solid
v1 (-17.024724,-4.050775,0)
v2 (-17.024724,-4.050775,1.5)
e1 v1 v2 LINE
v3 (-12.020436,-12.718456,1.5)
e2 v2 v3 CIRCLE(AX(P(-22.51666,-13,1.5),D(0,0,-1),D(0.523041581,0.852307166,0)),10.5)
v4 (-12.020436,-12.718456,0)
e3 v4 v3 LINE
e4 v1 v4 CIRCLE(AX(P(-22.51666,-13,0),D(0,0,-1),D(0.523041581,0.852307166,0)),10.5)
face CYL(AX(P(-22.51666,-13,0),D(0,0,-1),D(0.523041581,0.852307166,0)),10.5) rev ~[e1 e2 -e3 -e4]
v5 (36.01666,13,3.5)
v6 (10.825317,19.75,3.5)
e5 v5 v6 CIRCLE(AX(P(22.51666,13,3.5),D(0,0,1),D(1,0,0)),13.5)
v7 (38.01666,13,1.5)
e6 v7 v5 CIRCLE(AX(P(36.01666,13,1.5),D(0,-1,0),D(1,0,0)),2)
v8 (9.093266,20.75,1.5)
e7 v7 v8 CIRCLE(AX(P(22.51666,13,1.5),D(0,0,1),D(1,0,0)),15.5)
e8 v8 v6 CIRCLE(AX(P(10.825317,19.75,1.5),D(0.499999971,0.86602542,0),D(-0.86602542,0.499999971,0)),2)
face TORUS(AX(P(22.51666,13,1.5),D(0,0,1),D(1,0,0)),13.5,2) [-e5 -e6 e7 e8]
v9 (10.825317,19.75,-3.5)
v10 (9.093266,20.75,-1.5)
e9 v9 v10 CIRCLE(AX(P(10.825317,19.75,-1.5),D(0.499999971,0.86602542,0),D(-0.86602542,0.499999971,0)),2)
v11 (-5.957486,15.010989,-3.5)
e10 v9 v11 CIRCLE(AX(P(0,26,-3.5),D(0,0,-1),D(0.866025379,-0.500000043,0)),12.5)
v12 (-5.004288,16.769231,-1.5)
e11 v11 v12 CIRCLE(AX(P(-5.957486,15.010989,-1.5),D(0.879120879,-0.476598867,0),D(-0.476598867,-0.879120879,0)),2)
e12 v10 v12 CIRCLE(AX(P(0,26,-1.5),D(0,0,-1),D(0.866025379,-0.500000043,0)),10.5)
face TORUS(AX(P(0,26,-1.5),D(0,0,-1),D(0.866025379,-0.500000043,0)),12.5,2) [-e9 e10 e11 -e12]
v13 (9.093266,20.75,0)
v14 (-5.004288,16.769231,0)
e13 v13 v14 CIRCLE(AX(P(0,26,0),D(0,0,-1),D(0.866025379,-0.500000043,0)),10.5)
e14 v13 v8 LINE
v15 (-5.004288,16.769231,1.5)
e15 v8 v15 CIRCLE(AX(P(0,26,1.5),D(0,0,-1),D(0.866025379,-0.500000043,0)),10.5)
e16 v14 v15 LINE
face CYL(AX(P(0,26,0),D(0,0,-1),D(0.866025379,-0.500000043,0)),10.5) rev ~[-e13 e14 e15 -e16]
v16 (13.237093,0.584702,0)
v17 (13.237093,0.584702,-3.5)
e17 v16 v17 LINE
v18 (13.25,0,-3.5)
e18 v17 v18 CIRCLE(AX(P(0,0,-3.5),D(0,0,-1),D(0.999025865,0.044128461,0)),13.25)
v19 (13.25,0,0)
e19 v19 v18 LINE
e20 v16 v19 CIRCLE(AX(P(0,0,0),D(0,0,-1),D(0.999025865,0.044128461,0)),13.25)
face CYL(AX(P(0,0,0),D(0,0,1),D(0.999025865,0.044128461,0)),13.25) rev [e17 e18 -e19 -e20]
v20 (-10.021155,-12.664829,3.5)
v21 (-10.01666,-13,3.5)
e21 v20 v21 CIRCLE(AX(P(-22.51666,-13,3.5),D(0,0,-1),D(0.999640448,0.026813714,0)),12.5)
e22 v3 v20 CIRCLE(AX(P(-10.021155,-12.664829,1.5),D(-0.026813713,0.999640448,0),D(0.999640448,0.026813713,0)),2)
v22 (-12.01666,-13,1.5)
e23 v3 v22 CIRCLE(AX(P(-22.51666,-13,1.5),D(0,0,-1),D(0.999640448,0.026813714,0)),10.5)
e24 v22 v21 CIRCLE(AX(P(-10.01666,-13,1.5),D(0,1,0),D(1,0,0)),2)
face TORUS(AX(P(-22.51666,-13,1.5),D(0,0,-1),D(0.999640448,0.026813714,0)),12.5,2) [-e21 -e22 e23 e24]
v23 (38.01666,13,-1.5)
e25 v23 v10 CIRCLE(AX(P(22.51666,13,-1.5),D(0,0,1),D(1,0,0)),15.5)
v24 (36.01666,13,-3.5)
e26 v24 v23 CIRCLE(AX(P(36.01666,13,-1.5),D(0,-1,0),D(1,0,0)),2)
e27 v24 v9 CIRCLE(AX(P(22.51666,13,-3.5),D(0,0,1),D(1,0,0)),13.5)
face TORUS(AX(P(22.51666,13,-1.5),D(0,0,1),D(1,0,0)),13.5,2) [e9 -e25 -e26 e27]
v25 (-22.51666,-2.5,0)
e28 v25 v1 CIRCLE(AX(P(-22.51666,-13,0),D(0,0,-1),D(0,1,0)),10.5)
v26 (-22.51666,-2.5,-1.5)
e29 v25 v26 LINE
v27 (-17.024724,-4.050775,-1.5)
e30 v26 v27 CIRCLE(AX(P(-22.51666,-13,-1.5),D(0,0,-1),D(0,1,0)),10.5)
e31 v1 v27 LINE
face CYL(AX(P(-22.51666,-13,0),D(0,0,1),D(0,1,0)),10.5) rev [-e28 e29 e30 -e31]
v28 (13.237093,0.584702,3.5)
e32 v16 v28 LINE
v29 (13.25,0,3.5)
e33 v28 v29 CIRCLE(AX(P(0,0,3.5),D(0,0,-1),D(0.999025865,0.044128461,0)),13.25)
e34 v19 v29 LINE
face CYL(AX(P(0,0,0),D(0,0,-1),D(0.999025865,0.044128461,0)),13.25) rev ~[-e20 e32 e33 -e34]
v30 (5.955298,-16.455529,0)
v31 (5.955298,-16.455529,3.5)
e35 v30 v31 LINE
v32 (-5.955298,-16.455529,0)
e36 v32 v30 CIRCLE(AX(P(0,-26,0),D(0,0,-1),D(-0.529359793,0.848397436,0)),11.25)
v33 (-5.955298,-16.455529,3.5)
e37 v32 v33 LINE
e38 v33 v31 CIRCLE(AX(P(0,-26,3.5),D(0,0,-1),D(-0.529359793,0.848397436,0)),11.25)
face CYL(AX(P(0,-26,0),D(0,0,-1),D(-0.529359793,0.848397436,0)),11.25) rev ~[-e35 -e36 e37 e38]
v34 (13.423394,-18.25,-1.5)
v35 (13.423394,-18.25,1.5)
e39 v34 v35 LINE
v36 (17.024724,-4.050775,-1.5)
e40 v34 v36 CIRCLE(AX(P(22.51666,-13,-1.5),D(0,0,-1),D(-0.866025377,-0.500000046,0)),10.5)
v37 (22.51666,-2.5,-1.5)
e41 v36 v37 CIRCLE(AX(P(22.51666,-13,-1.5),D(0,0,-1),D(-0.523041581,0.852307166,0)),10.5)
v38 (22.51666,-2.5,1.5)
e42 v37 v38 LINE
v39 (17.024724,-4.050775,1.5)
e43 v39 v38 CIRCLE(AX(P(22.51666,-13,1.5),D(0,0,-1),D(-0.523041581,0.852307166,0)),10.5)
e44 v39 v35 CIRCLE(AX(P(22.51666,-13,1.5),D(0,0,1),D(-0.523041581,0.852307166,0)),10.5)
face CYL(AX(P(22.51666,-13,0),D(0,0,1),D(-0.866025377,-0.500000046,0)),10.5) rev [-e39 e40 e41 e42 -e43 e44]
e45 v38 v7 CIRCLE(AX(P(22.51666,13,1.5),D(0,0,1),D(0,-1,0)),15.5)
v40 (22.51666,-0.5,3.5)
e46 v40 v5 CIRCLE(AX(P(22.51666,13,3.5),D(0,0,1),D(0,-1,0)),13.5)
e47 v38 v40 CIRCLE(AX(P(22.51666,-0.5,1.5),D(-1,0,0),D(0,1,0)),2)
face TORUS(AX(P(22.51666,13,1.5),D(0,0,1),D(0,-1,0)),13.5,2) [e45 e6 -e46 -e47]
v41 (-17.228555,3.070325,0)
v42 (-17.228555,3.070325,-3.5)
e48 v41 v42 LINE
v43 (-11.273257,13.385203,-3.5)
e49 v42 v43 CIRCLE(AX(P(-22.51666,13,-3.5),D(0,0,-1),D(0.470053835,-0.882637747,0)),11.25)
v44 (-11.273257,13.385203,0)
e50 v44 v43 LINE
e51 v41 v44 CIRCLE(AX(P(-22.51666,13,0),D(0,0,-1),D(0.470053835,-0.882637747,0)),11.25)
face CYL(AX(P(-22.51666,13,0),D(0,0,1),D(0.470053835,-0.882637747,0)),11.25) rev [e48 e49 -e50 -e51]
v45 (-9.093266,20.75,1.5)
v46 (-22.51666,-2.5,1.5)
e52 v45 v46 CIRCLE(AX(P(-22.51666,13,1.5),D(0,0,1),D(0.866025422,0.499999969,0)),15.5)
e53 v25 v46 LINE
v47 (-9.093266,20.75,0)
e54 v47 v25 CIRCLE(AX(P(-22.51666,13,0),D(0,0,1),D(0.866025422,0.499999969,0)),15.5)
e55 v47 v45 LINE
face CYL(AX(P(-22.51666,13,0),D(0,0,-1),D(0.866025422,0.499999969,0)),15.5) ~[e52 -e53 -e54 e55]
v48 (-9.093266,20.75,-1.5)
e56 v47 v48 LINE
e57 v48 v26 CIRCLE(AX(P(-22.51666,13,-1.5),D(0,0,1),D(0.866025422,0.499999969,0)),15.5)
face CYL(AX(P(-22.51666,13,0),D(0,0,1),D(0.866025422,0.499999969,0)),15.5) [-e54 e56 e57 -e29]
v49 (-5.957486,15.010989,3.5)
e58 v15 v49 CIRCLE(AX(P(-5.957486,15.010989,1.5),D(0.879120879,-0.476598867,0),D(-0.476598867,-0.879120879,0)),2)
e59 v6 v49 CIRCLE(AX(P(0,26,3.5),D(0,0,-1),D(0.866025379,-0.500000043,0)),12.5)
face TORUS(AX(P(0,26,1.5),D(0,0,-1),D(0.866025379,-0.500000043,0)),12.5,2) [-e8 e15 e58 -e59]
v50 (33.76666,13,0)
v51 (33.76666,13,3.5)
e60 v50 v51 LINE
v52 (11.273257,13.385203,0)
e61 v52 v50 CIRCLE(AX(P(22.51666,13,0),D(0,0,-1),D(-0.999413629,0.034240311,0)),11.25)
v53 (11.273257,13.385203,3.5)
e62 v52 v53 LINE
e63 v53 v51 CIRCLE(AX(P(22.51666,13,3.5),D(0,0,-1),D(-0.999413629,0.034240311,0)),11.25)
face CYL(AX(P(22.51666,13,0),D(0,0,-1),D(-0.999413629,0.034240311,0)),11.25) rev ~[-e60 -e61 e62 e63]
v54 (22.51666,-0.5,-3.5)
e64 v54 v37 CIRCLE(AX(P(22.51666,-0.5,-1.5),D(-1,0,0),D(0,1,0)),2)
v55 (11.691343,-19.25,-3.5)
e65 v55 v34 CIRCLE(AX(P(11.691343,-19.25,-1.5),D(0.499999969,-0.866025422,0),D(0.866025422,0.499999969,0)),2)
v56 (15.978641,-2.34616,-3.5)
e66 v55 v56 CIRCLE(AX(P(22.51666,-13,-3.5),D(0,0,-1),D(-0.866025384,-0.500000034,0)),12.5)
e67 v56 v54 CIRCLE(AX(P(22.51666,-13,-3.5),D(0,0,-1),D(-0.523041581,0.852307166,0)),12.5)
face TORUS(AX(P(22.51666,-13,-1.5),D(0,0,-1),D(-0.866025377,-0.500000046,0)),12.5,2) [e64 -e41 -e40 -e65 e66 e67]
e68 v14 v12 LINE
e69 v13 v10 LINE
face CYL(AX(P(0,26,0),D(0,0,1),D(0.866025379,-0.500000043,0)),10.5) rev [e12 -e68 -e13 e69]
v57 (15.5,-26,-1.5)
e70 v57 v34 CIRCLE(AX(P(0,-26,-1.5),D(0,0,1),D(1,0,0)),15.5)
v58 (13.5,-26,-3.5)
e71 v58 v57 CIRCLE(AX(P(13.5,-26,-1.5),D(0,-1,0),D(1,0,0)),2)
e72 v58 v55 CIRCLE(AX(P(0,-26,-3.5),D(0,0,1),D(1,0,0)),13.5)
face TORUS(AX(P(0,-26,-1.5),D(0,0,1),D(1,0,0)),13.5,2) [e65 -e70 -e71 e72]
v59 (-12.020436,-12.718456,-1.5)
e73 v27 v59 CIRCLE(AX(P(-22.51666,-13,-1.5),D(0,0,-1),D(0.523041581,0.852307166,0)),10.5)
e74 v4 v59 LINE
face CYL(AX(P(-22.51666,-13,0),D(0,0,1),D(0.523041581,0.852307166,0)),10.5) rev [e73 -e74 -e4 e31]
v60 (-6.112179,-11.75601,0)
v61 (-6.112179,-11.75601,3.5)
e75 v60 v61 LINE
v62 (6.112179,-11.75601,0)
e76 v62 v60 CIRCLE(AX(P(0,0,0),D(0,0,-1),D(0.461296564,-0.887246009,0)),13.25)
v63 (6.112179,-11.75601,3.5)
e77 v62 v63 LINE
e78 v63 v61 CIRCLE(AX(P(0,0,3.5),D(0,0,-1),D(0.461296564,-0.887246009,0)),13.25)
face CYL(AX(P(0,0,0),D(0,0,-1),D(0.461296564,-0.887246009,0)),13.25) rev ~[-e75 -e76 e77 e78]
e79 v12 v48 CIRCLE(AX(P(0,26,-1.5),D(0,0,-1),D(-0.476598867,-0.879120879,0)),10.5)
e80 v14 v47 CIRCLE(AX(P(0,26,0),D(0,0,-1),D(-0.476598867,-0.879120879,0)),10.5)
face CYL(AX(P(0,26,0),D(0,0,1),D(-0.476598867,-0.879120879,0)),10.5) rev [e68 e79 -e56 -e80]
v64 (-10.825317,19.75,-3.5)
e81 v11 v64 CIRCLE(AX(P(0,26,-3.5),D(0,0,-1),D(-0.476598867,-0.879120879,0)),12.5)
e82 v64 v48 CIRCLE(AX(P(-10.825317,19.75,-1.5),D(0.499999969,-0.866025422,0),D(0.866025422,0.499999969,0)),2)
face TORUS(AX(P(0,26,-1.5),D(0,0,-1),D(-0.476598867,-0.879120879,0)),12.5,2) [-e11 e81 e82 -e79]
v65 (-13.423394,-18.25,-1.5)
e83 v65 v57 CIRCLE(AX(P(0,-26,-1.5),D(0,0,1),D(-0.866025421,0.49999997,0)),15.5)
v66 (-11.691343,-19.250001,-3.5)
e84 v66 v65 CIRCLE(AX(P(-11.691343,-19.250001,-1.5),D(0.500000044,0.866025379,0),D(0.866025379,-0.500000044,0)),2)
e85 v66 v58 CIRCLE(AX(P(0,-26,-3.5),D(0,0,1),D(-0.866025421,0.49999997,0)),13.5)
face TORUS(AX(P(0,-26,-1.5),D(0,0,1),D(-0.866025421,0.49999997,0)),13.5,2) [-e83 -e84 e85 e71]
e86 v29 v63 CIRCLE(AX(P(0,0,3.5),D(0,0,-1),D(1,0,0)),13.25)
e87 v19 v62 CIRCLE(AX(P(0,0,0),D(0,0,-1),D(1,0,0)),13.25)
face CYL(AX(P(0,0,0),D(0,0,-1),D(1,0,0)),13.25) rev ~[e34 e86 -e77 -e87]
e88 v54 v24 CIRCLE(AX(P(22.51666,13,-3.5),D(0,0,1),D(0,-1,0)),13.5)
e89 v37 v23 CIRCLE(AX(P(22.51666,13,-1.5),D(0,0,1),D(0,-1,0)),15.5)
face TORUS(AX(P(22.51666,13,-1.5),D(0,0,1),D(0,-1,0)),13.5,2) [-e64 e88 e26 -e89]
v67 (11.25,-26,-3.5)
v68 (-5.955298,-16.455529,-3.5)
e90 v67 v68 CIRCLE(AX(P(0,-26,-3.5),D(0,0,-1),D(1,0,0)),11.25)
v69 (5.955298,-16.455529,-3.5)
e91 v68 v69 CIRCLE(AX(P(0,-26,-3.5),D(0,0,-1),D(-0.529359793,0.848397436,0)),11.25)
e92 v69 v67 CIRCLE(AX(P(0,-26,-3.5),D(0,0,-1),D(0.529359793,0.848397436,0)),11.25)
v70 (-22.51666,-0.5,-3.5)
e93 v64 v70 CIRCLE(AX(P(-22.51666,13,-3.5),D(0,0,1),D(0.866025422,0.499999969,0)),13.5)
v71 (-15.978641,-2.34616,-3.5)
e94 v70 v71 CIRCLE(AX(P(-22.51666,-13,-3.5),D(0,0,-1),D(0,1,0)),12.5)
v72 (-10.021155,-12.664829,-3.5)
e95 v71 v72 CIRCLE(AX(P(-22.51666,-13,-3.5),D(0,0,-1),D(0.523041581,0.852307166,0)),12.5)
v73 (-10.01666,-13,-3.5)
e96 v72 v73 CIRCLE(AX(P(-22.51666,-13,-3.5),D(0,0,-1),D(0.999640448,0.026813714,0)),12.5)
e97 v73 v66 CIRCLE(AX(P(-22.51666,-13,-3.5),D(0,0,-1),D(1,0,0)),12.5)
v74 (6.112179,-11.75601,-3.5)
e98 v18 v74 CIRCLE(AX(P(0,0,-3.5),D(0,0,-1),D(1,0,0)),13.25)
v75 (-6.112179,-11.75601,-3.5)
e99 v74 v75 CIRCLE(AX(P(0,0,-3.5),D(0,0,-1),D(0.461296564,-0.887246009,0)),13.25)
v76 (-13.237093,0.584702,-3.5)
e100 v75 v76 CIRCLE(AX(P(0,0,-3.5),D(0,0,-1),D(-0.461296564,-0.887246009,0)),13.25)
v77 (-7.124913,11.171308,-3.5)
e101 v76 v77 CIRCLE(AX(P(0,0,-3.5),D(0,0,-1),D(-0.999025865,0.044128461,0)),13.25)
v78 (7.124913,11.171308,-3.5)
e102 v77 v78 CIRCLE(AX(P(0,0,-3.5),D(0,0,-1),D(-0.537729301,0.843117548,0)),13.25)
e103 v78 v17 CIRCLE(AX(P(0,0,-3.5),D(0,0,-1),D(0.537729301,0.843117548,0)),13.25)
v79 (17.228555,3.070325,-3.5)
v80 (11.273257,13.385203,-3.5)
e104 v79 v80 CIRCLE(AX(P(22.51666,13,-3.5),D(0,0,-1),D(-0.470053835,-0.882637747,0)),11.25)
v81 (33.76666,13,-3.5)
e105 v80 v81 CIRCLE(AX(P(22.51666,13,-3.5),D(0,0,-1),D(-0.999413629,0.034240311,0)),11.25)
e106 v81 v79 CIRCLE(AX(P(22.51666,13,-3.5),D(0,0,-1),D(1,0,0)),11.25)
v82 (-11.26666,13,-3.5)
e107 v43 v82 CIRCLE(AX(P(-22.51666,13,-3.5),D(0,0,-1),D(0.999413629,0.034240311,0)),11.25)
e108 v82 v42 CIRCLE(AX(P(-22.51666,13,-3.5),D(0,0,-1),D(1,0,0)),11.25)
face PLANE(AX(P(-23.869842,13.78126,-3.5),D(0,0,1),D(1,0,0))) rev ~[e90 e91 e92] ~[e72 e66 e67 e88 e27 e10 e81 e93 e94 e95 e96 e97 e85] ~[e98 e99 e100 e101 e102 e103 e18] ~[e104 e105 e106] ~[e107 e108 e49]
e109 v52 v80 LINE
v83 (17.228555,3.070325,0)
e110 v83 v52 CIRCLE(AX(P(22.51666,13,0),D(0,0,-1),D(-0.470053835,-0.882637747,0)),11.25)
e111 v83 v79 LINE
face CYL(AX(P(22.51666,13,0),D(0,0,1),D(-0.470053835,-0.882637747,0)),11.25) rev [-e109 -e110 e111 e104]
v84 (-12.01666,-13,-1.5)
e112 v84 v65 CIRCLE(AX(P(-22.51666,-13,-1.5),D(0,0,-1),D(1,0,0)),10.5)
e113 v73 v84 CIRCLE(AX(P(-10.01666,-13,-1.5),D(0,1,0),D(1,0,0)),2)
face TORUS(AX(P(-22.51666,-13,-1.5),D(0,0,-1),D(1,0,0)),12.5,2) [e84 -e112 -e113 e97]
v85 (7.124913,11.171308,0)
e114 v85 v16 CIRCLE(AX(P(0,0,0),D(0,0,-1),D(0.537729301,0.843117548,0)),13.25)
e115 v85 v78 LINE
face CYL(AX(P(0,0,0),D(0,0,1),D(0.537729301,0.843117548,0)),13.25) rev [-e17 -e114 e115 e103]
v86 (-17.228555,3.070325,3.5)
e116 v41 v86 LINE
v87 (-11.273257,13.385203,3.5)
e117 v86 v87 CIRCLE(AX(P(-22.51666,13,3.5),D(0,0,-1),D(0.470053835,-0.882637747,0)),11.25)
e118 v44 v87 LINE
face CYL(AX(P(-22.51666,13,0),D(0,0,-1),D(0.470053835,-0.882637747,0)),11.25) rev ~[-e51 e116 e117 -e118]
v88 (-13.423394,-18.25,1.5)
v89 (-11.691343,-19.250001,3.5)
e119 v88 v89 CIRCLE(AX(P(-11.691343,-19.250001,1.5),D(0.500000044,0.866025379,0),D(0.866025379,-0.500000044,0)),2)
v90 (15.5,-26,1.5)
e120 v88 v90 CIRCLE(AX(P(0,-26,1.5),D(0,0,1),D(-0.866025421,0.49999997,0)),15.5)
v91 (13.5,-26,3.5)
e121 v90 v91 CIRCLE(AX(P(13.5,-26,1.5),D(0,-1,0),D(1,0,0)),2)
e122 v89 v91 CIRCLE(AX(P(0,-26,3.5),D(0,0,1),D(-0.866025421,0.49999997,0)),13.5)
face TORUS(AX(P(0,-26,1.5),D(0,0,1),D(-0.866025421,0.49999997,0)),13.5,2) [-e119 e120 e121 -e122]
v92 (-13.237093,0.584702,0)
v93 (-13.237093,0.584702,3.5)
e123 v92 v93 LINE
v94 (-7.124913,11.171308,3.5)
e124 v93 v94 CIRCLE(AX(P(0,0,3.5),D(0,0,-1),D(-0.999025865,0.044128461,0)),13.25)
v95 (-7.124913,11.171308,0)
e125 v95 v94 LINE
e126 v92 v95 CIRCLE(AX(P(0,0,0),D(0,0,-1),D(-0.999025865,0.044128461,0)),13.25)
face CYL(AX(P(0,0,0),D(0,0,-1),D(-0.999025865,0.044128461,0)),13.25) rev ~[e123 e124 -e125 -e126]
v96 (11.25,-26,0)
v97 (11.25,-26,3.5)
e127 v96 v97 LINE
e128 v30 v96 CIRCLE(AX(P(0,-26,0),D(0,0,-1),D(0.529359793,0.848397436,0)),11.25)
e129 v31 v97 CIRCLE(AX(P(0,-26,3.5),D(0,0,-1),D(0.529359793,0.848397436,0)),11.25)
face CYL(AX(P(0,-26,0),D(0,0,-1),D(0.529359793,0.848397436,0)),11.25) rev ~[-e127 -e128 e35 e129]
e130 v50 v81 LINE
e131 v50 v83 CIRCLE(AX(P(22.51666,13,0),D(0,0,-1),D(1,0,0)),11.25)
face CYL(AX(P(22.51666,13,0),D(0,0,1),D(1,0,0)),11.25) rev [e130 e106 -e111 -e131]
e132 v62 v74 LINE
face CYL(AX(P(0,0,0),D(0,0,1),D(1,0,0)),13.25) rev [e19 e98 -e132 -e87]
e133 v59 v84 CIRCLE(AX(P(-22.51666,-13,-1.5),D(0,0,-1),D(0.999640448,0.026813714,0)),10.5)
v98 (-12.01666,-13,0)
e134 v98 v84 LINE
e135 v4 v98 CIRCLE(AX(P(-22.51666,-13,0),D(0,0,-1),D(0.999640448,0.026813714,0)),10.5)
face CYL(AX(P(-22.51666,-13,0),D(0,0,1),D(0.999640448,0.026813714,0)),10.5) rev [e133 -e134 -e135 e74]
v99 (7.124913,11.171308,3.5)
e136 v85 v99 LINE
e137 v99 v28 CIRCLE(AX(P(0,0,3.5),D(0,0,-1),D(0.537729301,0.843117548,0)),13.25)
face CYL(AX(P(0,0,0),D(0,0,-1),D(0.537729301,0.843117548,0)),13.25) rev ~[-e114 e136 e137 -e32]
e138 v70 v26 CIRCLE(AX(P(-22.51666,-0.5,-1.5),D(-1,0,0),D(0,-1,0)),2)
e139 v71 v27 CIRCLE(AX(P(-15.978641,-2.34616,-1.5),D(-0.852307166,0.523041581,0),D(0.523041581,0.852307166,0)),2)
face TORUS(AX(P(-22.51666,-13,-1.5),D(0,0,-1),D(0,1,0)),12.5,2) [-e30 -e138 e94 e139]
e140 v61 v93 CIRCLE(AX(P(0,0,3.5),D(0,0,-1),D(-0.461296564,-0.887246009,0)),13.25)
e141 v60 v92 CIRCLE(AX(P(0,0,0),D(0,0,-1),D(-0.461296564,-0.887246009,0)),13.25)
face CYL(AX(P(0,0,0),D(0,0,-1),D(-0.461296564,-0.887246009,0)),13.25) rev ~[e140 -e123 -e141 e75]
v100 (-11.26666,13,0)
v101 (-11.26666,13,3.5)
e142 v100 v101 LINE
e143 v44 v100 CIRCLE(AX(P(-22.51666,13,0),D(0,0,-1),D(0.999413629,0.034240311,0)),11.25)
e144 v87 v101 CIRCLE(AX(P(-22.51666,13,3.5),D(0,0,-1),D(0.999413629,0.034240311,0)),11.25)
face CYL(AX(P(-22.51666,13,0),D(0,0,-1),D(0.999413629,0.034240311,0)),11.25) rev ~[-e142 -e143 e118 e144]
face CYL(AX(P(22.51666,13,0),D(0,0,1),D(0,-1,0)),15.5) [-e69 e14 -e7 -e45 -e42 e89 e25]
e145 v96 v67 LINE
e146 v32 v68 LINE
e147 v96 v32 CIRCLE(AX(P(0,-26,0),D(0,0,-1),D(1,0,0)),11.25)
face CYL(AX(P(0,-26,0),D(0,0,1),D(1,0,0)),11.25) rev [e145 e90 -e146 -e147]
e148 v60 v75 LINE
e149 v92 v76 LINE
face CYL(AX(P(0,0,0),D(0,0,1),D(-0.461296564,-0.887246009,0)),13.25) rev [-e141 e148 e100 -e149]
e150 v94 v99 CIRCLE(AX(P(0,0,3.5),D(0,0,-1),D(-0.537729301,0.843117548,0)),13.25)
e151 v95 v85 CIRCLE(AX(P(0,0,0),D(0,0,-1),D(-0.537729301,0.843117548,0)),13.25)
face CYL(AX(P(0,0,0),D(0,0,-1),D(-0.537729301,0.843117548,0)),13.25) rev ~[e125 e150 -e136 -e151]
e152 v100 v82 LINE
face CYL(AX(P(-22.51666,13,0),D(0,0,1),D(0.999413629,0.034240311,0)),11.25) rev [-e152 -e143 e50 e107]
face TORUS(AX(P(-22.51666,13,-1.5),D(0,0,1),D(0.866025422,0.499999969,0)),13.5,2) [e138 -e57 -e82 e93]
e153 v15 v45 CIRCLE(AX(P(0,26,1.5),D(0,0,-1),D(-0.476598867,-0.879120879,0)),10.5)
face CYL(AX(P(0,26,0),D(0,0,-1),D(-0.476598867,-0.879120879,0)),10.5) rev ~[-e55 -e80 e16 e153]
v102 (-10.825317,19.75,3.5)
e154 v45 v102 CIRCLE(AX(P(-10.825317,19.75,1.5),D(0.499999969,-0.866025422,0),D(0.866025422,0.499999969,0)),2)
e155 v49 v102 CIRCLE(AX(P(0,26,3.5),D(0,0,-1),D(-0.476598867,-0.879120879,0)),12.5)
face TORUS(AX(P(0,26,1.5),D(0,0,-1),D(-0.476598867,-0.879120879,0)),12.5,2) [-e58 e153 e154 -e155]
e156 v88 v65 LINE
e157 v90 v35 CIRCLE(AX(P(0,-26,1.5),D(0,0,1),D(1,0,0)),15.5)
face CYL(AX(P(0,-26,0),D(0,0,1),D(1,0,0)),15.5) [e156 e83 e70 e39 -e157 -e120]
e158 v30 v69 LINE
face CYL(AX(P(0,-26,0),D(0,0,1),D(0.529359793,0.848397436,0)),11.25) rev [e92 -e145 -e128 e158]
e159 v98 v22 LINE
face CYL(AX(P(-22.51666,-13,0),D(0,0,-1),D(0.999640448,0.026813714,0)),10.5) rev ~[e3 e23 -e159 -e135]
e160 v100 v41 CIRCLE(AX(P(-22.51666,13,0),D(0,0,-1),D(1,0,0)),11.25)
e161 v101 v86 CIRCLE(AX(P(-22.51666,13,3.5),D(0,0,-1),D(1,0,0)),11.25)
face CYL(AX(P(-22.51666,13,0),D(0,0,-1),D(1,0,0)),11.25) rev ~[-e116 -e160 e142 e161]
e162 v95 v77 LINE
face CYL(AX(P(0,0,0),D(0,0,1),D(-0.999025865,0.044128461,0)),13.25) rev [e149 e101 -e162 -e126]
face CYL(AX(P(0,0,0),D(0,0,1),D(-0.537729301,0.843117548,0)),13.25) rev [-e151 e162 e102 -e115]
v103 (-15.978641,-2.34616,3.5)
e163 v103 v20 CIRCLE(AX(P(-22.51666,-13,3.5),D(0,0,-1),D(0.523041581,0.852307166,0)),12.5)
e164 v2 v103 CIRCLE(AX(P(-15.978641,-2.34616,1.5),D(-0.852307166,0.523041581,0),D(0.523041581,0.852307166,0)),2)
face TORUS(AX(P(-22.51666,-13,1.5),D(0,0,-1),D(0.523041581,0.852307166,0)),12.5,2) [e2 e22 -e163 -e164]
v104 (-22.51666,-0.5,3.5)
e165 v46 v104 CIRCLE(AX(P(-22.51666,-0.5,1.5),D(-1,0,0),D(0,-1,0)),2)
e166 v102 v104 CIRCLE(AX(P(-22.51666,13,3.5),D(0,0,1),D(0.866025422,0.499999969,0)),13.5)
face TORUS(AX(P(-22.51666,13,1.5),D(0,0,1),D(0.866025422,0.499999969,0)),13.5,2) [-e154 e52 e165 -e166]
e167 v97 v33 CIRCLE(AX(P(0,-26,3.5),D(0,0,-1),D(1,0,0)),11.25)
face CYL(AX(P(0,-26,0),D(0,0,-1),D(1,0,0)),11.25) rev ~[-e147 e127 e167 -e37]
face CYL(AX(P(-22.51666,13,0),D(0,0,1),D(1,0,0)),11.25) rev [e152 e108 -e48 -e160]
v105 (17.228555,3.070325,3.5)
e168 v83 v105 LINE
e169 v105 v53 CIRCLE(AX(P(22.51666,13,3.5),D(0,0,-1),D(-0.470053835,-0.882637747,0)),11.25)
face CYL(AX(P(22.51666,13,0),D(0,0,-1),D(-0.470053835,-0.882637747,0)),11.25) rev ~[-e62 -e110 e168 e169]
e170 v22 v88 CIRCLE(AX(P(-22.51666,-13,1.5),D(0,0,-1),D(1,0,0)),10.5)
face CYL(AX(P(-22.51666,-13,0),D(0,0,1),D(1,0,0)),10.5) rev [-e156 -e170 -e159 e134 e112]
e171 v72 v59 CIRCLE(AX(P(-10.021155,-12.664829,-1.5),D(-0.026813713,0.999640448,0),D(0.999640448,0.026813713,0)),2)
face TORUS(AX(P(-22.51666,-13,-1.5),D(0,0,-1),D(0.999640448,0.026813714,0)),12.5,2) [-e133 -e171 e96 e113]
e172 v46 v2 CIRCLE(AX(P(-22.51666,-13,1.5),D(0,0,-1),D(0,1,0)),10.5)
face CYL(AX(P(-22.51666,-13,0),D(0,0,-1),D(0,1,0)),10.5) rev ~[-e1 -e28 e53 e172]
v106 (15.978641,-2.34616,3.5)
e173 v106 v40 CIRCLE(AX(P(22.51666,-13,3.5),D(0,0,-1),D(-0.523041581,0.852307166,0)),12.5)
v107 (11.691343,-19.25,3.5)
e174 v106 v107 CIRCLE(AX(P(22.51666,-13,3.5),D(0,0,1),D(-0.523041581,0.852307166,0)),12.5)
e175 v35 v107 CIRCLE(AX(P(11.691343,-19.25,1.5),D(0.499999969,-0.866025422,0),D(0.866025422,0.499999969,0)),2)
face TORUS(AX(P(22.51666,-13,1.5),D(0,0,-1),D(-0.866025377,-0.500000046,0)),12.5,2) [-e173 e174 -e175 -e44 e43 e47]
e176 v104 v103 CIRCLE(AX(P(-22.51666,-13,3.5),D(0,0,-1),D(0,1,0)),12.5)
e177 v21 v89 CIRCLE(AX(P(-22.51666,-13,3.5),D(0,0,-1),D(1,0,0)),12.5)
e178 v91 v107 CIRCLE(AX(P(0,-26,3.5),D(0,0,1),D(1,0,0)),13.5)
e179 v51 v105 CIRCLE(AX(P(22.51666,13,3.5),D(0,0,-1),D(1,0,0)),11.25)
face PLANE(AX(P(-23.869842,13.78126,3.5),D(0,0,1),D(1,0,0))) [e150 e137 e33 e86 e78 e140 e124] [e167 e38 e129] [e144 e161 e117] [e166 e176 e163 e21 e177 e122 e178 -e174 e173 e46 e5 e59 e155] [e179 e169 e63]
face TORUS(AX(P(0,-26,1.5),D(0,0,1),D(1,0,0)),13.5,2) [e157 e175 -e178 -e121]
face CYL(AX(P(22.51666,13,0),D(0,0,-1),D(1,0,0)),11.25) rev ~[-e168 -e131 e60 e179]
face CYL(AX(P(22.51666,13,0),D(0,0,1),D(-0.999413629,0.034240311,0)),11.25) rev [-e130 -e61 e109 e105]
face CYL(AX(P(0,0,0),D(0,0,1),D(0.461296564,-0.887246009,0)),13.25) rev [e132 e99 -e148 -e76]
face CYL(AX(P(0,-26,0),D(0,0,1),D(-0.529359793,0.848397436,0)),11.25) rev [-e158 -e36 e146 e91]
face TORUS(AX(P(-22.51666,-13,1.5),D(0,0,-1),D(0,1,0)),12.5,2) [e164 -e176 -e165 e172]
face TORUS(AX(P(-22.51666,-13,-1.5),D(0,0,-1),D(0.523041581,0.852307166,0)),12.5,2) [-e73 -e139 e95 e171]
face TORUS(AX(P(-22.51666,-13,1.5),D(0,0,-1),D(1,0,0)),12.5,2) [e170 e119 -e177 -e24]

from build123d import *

# Parameters (mm, degrees)
F1_DEPTH      = 3.5
F1_DEPTH_BACK = 3.5
F2_R          = 2


with BuildPart() as f1:
    # F0 (on Top) → F1 (new body, two sides)
    with BuildSketch(Plane.XY) as f1_sk:
        with BuildLine():
            ThreePointArc((-22.5166604984, -2.5), (-19.9337471533, -2.2832770914), (-17.4230630331, -1.6391688583))
            ThreePointArc((-17.4230630331, -1.6391688583), (-17.4850933488, 0.7221568971), (-17.2285548508, 3.0703253498))
            ThreePointArc((-17.2285548508, 3.0703253498), (-32.259446291, 18.625), (-11.2732571762, 13.3852034964))
            ThreePointArc((-11.2732571762, 13.3852034964), (-9.3679528928, 14.7814565791), (-7.2919696442, 15.9083996275))
            ThreePointArc((-7.2919696442, 15.9083996275), (-7.9894975134, 18.404769709), (-9.093266458, 20.749999512))
            ThreePointArc((-9.093266458, 20.749999512), (-35.9400541162, 20.750000244), (-22.5166604984, -2.5))
        make_face()
        with BuildLine():
            ThreePointArc((-13.2370927111, 0.5847021107), (-11.4748366001, 6.625), (-7.124913237, 11.1713075047))
            ThreePointArc((-7.124913237, 11.1713075047), (-7.0437473507, 12.0840530996), (-7.0166604984, 13))
            ThreePointArc((-7.0166604984, 13), (-7.0856412799, 14.4607004757), (-7.2919696442, 15.9083996275))
            ThreePointArc((-7.2919696442, 15.9083996275), (-9.3679528928, 14.7814565791), (-11.2732571762, 13.3852034964))
            ThreePointArc((-11.2732571762, 13.3852034964), (-11.2683097887, 13.1926299884), (-11.2666604984, 13))
            ThreePointArc((-11.2666604984, 13), (-12.8716180274, 7.2090021816), (-17.2285548508, 3.0703253498))
            ThreePointArc((-17.2285548508, 3.0703253498), (-17.4850933488, 0.7221568971), (-17.4230630331, -1.6391688583))
            ThreePointArc((-17.4230630331, -1.6391688583), (-15.2445651768, -0.6881930741), (-13.2370927111, 0.5847021107))
        make_face()
        with BuildLine():
            ThreePointArc((-17.0247238991, -4.0507747604), (-17.2660495449, -2.8519349769), (-17.4230630331, -1.6391688583))
            ThreePointArc((-17.4230630331, -1.6391688583), (-19.9337471533, -2.2832770914), (-22.5166604984, -2.5))
            ThreePointArc((-22.5166604984, -2.5), (-19.6633172852, -2.8951282785), (-17.0247238991, -4.0507747604))
        make_face()
        with BuildLine():
            ThreePointArc((-9.093266458, 20.749999512), (-7.9894975134, 18.404769709), (-7.2919696442, 15.9083996275))
            ThreePointArc((-7.2919696442, 15.9083996275), (-6.1631766325, 16.3788050173), (-5.004288102, 16.7692307692))
            ThreePointArc((-5.004288102, 16.7692307692), (-7.3244038044, 18.4764962344), (-9.093266458, 20.749999512))
        make_face()
        with BuildLine():
            ThreePointArc((5.004288102, 16.7692307692), (6.1631766325, 16.3788050173), (7.2919696442, 15.9083996275))
            ThreePointArc((7.2919696442, 15.9083996275), (7.9894975218, 18.4047697315), (9.093266482, 20.7499995536))
            ThreePointArc((9.093266482, 20.7499995536), (7.3244038216, 18.4764962512), (5.004288102, 16.7692307692))
        make_face()
        with BuildLine():
            ThreePointArc((22.5166604984, -2.5), (19.9337471533, -2.2832770914), (17.4230630331, -1.6391688583))
            ThreePointArc((17.4230630331, -1.6391688583), (17.2660495449, -2.8519349769), (17.0247238991, -4.0507747604))
            ThreePointArc((17.0247238991, -4.0507747604), (19.6633172852, -2.8951282785), (22.5166604984, -2.5))
        make_face()
        with BuildLine():
            ThreePointArc((7.124913237, 11.1713075047), (11.4748366001, 6.625), (13.2370927111, 0.5847021107))
            ThreePointArc((13.2370927111, 0.5847021107), (15.2445651768, -0.6881930741), (17.4230630331, -1.6391688583))
            ThreePointArc((17.4230630331, -1.6391688583), (17.4807551765, -0.8204867218), (17.5, 0))
            ThreePointArc((17.5, 0), (17.4320066241, 1.5411505623), (17.2285548508, 3.0703253498))
            ThreePointArc((17.2285548508, 3.0703253498), (12.7738747058, 7.375), (11.2732571762, 13.3852034964))
            ThreePointArc((11.2732571762, 13.3852034964), (9.3679528928, 14.7814565791), (7.2919696442, 15.9083996275))
            ThreePointArc((7.2919696442, 15.9083996275), (7.0262899035, 13.5462772498), (7.124913237, 11.1713075047))
        make_face()
        with BuildLine():
            ThreePointArc((17.5, 0), (17.4807551765, -0.8204867218), (17.4230630331, -1.6391688583))
            ThreePointArc((17.4230630331, -1.6391688583), (19.9337471533, -2.2832770914), (22.5166604984, -2.5))
            ThreePointArc((22.5166604984, -2.5), (33.4768156068, 2.0398448916), (38.0166604984, 13))
            ThreePointArc((38.0166604984, 13), (26.5283554485, 27.9718503742), (9.093266482, 20.7499995536))
            ThreePointArc((9.093266482, 20.7499995536), (7.9894975218, 18.4047697315), (7.2919696442, 15.9083996275))
            ThreePointArc((7.2919696442, 15.9083996275), (9.3679528928, 14.7814565791), (11.2732571762, 13.3852034964))
            ThreePointArc((11.2732571762, 13.3852034964), (22.7092904868, 24.2483507097), (33.7666604984, 13))
            ThreePointArc((33.7666604984, 13), (28.3076583168, 3.354957529), (17.2285548508, 3.0703253498))
            ThreePointArc((17.2285548508, 3.0703253498), (17.4320066241, 1.5411505623), (17.5, 0))
        make_face()
        with BuildLine():
            ThreePointArc((12.0204357971, -12.7184560088), (11.1028729124, -13.5268700405), (10.1310933889, -14.2692307692))
            ThreePointArc((10.1310933889, -14.2692307692), (11.9442497212, -16.1214930988), (13.4233940404, -18.250000488))
            ThreePointArc((13.4233940404, -18.250000488), (12.3389133483, -15.5813684255), (12.0204357971, -12.7184560088))
        make_face()
        with BuildLine():
            ThreePointArc((10.1310933889, -14.2692307692), (8.2182752733, -12.8580841757), (6.112179474, -11.7560096154))
            ThreePointArc((6.112179474, -11.7560096154), (0, -13.25), (-6.112179474, -11.7560096154))
            ThreePointArc((-6.112179474, -11.7560096154), (-8.2182752733, -12.8580841757), (-10.1310933889, -14.2692307692))
            ThreePointArc((-10.1310933889, -14.2692307692), (-8.117140456, -15.5036134761), (-5.9552976746, -16.4555288462))
            ThreePointArc((-5.9552976746, -16.4555288462), (0, -14.75), (5.9552976746, -16.4555288462))
            ThreePointArc((5.9552976746, -16.4555288462), (8.117140456, -15.5036134761), (10.1310933889, -14.2692307692))
        make_face()
        with BuildLine():
            ThreePointArc((13.4233940404, -18.250000488), (11.9442497212, -16.1214930988), (10.1310933889, -14.2692307692))
            ThreePointArc((10.1310933889, -14.2692307692), (8.117140456, -15.5036134761), (5.9552976746, -16.4555288462))
            ThreePointArc((5.9552976746, -16.4555288462), (9.8376724595, -20.5426471087), (11.25, -26))
            ThreePointArc((11.25, -26), (-5.4573528913, -35.8376724595), (-5.9552976746, -16.4555288462))
            ThreePointArc((-5.9552976746, -16.4555288462), (-8.117140456, -15.5036134761), (-10.1310933889, -14.2692307692))
            ThreePointArc((-10.1310933889, -14.2692307692), (-11.9442497104, -16.1214930857), (-13.4233940234, -18.2500004585))
            ThreePointArc((-13.4233940234, -18.2500004585), (-4.0116949434, -40.971850376), (15.5, -26))
            ThreePointArc((15.5, -26), (14.9718503804, -21.988305073), (13.4233940404, -18.250000488))
        make_face()
        with BuildLine():
            ThreePointArc((-13.4233940234, -18.2500004585), (-11.9442497104, -16.1214930857), (-10.1310933889, -14.2692307692))
            ThreePointArc((-10.1310933889, -14.2692307692), (-11.1028729124, -13.5268700405), (-12.0204357971, -12.7184560088))
            ThreePointArc((-12.0204357971, -12.7184560088), (-12.0176043655, -12.859215349), (-12.0166604984, -13))
            ThreePointArc((-12.0166604984, -13), (-12.3744393909, -15.7176002293), (-13.4233940234, -18.2500004585))
        make_face()
        with BuildLine():
            ThreePointArc((7.124913237, 11.1713075047), (11.4748366001, 6.625), (13.2370927111, 0.5847021107))
            ThreePointArc((13.2370927111, 0.5847021107), (15.2445651768, -0.6881930741), (17.4230630331, -1.6391688583))
            ThreePointArc((17.4230630331, -1.6391688583), (17.4807551765, -0.8204867218), (17.5, 0))
            ThreePointArc((17.5, 0), (17.4320066241, 1.5411505623), (17.2285548508, 3.0703253498))
            ThreePointArc((17.2285548508, 3.0703253498), (12.7738747058, 7.375), (11.2732571762, 13.3852034964))
            ThreePointArc((11.2732571762, 13.3852034964), (9.3679528928, 14.7814565791), (7.2919696442, 15.9083996275))
            ThreePointArc((7.2919696442, 15.9083996275), (7.0262899035, 13.5462772498), (7.124913237, 11.1713075047))
        make_face()
        with BuildLine():
            ThreePointArc((-7.124913237, 11.1713075047), (0, 13.25), (7.124913237, 11.1713075047))
            ThreePointArc((7.124913237, 11.1713075047), (7.0262899035, 13.5462772498), (7.2919696442, 15.9083996275))
            ThreePointArc((7.2919696442, 15.9083996275), (6.1631766325, 16.3788050173), (5.004288102, 16.7692307692))
            ThreePointArc((5.004288102, 16.7692307692), (0, 15.5), (-5.004288102, 16.7692307692))
            ThreePointArc((-5.004288102, 16.7692307692), (-6.1631766325, 16.3788050173), (-7.2919696442, 15.9083996275))
            ThreePointArc((-7.2919696442, 15.9083996275), (-7.0856412799, 14.4607004757), (-7.0166604984, 13))
            ThreePointArc((-7.0166604984, 13), (-7.0437473507, 12.0840530996), (-7.124913237, 11.1713075047))
        make_face()
        with BuildLine():
            ThreePointArc((-13.2370927111, 0.5847021107), (-11.4748366001, 6.625), (-7.124913237, 11.1713075047))
            ThreePointArc((-7.124913237, 11.1713075047), (-7.0437473507, 12.0840530996), (-7.0166604984, 13))
            ThreePointArc((-7.0166604984, 13), (-7.0856412799, 14.4607004757), (-7.2919696442, 15.9083996275))
            ThreePointArc((-7.2919696442, 15.9083996275), (-9.3679528928, 14.7814565791), (-11.2732571762, 13.3852034964))
            ThreePointArc((-11.2732571762, 13.3852034964), (-11.2683097887, 13.1926299884), (-11.2666604984, 13))
            ThreePointArc((-11.2666604984, 13), (-12.8716180274, 7.2090021816), (-17.2285548508, 3.0703253498))
            ThreePointArc((-17.2285548508, 3.0703253498), (-17.4850933488, 0.7221568971), (-17.4230630331, -1.6391688583))
            ThreePointArc((-17.4230630331, -1.6391688583), (-15.2445651768, -0.6881930741), (-13.2370927111, 0.5847021107))
        make_face()
        with BuildLine():
            ThreePointArc((-10.1310933889, -14.2692307692), (-8.2182752733, -12.8580841757), (-6.112179474, -11.7560096154))
            ThreePointArc((-6.112179474, -11.7560096154), (-11.4748366001, -6.625), (-13.2370927111, 0.5847021107))
            ThreePointArc((-13.2370927111, 0.5847021107), (-15.2445651768, -0.6881930741), (-17.4230630331, -1.6391688583))
            ThreePointArc((-17.4230630331, -1.6391688583), (-17.2660495449, -2.8519349769), (-17.0247238991, -4.0507747604))
            ThreePointArc((-17.0247238991, -4.0507747604), (-13.4233937587, -7.75), (-12.0204357971, -12.7184560088))
            ThreePointArc((-12.0204357971, -12.7184560088), (-11.1028729124, -13.5268700405), (-10.1310933889, -14.2692307692))
        make_face()
        with BuildLine():
            ThreePointArc((10.1310933889, -14.2692307692), (8.2182752733, -12.8580841757), (6.112179474, -11.7560096154))
            ThreePointArc((6.112179474, -11.7560096154), (0, -13.25), (-6.112179474, -11.7560096154))
            ThreePointArc((-6.112179474, -11.7560096154), (-8.2182752733, -12.8580841757), (-10.1310933889, -14.2692307692))
            ThreePointArc((-10.1310933889, -14.2692307692), (-8.117140456, -15.5036134761), (-5.9552976746, -16.4555288462))
            ThreePointArc((-5.9552976746, -16.4555288462), (0, -14.75), (5.9552976746, -16.4555288462))
            ThreePointArc((5.9552976746, -16.4555288462), (8.117140456, -15.5036134761), (10.1310933889, -14.2692307692))
        make_face()
        with BuildLine():
            ThreePointArc((13.2370927111, 0.5847021107), (13.2467727848, 0.2924222787), (13.25, 0))
            ThreePointArc((13.25, 0), (11.3258306104, -6.8766315144), (6.112179474, -11.7560096154))
            ThreePointArc((6.112179474, -11.7560096154), (8.2182752733, -12.8580841757), (10.1310933889, -14.2692307692))
            ThreePointArc((10.1310933889, -14.2692307692), (11.1028729124, -13.5268700405), (12.0204357971, -12.7184560088))
            ThreePointArc((12.0204357971, -12.7184560088), (13.4233937587, -7.75), (17.0247238991, -4.0507747604))
            ThreePointArc((17.0247238991, -4.0507747604), (17.2660495449, -2.8519349769), (17.4230630331, -1.6391688583))
            ThreePointArc((17.4230630331, -1.6391688583), (15.2445651768, -0.6881930741), (13.2370927111, 0.5847021107))
        make_face()
        with BuildLine():
            ThreePointArc((13.4233940404, -18.250000488), (11.9442497212, -16.1214930988), (10.1310933889, -14.2692307692))
            ThreePointArc((10.1310933889, -14.2692307692), (8.117140456, -15.5036134761), (5.9552976746, -16.4555288462))
            ThreePointArc((5.9552976746, -16.4555288462), (9.8376724595, -20.5426471087), (11.25, -26))
            ThreePointArc((11.25, -26), (-5.4573528913, -35.8376724595), (-5.9552976746, -16.4555288462))
            ThreePointArc((-5.9552976746, -16.4555288462), (-8.117140456, -15.5036134761), (-10.1310933889, -14.2692307692))
            ThreePointArc((-10.1310933889, -14.2692307692), (-11.9442497104, -16.1214930857), (-13.4233940234, -18.2500004585))
            ThreePointArc((-13.4233940234, -18.2500004585), (-4.0116949434, -40.971850376), (15.5, -26))
            ThreePointArc((15.5, -26), (14.9718503804, -21.988305073), (13.4233940404, -18.250000488))
        make_face()
        with BuildLine():
            ThreePointArc((-22.5166604984, -2.5), (-19.9337471533, -2.2832770914), (-17.4230630331, -1.6391688583))
            ThreePointArc((-17.4230630331, -1.6391688583), (-17.4850933488, 0.7221568971), (-17.2285548508, 3.0703253498))
            ThreePointArc((-17.2285548508, 3.0703253498), (-32.259446291, 18.625), (-11.2732571762, 13.3852034964))
            ThreePointArc((-11.2732571762, 13.3852034964), (-9.3679528928, 14.7814565791), (-7.2919696442, 15.9083996275))
            ThreePointArc((-7.2919696442, 15.9083996275), (-7.9894975134, 18.404769709), (-9.093266458, 20.749999512))
            ThreePointArc((-9.093266458, 20.749999512), (-35.9400541162, 20.750000244), (-22.5166604984, -2.5))
        make_face()
        with BuildLine():
            ThreePointArc((17.5, 0), (17.4807551765, -0.8204867218), (17.4230630331, -1.6391688583))
            ThreePointArc((17.4230630331, -1.6391688583), (19.9337471533, -2.2832770914), (22.5166604984, -2.5))
            ThreePointArc((22.5166604984, -2.5), (33.4768156068, 2.0398448916), (38.0166604984, 13))
            ThreePointArc((38.0166604984, 13), (26.5283554485, 27.9718503742), (9.093266482, 20.7499995536))
            ThreePointArc((9.093266482, 20.7499995536), (7.9894975218, 18.4047697315), (7.2919696442, 15.9083996275))
            ThreePointArc((7.2919696442, 15.9083996275), (9.3679528928, 14.7814565791), (11.2732571762, 13.3852034964))
            ThreePointArc((11.2732571762, 13.3852034964), (22.7092904868, 24.2483507097), (33.7666604984, 13))
            ThreePointArc((33.7666604984, 13), (28.3076583168, 3.354957529), (17.2285548508, 3.0703253498))
            ThreePointArc((17.2285548508, 3.0703253498), (17.4320066241, 1.5411505623), (17.5, 0))
        make_face()
    extrude(amount=F1_DEPTH)
    extrude(f1_sk.sketch, amount=-F1_DEPTH_BACK)

    # F2
    f2_edges = [f1.edges().sort_by_distance(p)[0] for p in [
        (-35.940054, 20.75, 3.5),
        (-35.940054, 20.75, -3.5),
    ]]
    fillet(f2_edges, radius=F2_R)


solid = f1.part
